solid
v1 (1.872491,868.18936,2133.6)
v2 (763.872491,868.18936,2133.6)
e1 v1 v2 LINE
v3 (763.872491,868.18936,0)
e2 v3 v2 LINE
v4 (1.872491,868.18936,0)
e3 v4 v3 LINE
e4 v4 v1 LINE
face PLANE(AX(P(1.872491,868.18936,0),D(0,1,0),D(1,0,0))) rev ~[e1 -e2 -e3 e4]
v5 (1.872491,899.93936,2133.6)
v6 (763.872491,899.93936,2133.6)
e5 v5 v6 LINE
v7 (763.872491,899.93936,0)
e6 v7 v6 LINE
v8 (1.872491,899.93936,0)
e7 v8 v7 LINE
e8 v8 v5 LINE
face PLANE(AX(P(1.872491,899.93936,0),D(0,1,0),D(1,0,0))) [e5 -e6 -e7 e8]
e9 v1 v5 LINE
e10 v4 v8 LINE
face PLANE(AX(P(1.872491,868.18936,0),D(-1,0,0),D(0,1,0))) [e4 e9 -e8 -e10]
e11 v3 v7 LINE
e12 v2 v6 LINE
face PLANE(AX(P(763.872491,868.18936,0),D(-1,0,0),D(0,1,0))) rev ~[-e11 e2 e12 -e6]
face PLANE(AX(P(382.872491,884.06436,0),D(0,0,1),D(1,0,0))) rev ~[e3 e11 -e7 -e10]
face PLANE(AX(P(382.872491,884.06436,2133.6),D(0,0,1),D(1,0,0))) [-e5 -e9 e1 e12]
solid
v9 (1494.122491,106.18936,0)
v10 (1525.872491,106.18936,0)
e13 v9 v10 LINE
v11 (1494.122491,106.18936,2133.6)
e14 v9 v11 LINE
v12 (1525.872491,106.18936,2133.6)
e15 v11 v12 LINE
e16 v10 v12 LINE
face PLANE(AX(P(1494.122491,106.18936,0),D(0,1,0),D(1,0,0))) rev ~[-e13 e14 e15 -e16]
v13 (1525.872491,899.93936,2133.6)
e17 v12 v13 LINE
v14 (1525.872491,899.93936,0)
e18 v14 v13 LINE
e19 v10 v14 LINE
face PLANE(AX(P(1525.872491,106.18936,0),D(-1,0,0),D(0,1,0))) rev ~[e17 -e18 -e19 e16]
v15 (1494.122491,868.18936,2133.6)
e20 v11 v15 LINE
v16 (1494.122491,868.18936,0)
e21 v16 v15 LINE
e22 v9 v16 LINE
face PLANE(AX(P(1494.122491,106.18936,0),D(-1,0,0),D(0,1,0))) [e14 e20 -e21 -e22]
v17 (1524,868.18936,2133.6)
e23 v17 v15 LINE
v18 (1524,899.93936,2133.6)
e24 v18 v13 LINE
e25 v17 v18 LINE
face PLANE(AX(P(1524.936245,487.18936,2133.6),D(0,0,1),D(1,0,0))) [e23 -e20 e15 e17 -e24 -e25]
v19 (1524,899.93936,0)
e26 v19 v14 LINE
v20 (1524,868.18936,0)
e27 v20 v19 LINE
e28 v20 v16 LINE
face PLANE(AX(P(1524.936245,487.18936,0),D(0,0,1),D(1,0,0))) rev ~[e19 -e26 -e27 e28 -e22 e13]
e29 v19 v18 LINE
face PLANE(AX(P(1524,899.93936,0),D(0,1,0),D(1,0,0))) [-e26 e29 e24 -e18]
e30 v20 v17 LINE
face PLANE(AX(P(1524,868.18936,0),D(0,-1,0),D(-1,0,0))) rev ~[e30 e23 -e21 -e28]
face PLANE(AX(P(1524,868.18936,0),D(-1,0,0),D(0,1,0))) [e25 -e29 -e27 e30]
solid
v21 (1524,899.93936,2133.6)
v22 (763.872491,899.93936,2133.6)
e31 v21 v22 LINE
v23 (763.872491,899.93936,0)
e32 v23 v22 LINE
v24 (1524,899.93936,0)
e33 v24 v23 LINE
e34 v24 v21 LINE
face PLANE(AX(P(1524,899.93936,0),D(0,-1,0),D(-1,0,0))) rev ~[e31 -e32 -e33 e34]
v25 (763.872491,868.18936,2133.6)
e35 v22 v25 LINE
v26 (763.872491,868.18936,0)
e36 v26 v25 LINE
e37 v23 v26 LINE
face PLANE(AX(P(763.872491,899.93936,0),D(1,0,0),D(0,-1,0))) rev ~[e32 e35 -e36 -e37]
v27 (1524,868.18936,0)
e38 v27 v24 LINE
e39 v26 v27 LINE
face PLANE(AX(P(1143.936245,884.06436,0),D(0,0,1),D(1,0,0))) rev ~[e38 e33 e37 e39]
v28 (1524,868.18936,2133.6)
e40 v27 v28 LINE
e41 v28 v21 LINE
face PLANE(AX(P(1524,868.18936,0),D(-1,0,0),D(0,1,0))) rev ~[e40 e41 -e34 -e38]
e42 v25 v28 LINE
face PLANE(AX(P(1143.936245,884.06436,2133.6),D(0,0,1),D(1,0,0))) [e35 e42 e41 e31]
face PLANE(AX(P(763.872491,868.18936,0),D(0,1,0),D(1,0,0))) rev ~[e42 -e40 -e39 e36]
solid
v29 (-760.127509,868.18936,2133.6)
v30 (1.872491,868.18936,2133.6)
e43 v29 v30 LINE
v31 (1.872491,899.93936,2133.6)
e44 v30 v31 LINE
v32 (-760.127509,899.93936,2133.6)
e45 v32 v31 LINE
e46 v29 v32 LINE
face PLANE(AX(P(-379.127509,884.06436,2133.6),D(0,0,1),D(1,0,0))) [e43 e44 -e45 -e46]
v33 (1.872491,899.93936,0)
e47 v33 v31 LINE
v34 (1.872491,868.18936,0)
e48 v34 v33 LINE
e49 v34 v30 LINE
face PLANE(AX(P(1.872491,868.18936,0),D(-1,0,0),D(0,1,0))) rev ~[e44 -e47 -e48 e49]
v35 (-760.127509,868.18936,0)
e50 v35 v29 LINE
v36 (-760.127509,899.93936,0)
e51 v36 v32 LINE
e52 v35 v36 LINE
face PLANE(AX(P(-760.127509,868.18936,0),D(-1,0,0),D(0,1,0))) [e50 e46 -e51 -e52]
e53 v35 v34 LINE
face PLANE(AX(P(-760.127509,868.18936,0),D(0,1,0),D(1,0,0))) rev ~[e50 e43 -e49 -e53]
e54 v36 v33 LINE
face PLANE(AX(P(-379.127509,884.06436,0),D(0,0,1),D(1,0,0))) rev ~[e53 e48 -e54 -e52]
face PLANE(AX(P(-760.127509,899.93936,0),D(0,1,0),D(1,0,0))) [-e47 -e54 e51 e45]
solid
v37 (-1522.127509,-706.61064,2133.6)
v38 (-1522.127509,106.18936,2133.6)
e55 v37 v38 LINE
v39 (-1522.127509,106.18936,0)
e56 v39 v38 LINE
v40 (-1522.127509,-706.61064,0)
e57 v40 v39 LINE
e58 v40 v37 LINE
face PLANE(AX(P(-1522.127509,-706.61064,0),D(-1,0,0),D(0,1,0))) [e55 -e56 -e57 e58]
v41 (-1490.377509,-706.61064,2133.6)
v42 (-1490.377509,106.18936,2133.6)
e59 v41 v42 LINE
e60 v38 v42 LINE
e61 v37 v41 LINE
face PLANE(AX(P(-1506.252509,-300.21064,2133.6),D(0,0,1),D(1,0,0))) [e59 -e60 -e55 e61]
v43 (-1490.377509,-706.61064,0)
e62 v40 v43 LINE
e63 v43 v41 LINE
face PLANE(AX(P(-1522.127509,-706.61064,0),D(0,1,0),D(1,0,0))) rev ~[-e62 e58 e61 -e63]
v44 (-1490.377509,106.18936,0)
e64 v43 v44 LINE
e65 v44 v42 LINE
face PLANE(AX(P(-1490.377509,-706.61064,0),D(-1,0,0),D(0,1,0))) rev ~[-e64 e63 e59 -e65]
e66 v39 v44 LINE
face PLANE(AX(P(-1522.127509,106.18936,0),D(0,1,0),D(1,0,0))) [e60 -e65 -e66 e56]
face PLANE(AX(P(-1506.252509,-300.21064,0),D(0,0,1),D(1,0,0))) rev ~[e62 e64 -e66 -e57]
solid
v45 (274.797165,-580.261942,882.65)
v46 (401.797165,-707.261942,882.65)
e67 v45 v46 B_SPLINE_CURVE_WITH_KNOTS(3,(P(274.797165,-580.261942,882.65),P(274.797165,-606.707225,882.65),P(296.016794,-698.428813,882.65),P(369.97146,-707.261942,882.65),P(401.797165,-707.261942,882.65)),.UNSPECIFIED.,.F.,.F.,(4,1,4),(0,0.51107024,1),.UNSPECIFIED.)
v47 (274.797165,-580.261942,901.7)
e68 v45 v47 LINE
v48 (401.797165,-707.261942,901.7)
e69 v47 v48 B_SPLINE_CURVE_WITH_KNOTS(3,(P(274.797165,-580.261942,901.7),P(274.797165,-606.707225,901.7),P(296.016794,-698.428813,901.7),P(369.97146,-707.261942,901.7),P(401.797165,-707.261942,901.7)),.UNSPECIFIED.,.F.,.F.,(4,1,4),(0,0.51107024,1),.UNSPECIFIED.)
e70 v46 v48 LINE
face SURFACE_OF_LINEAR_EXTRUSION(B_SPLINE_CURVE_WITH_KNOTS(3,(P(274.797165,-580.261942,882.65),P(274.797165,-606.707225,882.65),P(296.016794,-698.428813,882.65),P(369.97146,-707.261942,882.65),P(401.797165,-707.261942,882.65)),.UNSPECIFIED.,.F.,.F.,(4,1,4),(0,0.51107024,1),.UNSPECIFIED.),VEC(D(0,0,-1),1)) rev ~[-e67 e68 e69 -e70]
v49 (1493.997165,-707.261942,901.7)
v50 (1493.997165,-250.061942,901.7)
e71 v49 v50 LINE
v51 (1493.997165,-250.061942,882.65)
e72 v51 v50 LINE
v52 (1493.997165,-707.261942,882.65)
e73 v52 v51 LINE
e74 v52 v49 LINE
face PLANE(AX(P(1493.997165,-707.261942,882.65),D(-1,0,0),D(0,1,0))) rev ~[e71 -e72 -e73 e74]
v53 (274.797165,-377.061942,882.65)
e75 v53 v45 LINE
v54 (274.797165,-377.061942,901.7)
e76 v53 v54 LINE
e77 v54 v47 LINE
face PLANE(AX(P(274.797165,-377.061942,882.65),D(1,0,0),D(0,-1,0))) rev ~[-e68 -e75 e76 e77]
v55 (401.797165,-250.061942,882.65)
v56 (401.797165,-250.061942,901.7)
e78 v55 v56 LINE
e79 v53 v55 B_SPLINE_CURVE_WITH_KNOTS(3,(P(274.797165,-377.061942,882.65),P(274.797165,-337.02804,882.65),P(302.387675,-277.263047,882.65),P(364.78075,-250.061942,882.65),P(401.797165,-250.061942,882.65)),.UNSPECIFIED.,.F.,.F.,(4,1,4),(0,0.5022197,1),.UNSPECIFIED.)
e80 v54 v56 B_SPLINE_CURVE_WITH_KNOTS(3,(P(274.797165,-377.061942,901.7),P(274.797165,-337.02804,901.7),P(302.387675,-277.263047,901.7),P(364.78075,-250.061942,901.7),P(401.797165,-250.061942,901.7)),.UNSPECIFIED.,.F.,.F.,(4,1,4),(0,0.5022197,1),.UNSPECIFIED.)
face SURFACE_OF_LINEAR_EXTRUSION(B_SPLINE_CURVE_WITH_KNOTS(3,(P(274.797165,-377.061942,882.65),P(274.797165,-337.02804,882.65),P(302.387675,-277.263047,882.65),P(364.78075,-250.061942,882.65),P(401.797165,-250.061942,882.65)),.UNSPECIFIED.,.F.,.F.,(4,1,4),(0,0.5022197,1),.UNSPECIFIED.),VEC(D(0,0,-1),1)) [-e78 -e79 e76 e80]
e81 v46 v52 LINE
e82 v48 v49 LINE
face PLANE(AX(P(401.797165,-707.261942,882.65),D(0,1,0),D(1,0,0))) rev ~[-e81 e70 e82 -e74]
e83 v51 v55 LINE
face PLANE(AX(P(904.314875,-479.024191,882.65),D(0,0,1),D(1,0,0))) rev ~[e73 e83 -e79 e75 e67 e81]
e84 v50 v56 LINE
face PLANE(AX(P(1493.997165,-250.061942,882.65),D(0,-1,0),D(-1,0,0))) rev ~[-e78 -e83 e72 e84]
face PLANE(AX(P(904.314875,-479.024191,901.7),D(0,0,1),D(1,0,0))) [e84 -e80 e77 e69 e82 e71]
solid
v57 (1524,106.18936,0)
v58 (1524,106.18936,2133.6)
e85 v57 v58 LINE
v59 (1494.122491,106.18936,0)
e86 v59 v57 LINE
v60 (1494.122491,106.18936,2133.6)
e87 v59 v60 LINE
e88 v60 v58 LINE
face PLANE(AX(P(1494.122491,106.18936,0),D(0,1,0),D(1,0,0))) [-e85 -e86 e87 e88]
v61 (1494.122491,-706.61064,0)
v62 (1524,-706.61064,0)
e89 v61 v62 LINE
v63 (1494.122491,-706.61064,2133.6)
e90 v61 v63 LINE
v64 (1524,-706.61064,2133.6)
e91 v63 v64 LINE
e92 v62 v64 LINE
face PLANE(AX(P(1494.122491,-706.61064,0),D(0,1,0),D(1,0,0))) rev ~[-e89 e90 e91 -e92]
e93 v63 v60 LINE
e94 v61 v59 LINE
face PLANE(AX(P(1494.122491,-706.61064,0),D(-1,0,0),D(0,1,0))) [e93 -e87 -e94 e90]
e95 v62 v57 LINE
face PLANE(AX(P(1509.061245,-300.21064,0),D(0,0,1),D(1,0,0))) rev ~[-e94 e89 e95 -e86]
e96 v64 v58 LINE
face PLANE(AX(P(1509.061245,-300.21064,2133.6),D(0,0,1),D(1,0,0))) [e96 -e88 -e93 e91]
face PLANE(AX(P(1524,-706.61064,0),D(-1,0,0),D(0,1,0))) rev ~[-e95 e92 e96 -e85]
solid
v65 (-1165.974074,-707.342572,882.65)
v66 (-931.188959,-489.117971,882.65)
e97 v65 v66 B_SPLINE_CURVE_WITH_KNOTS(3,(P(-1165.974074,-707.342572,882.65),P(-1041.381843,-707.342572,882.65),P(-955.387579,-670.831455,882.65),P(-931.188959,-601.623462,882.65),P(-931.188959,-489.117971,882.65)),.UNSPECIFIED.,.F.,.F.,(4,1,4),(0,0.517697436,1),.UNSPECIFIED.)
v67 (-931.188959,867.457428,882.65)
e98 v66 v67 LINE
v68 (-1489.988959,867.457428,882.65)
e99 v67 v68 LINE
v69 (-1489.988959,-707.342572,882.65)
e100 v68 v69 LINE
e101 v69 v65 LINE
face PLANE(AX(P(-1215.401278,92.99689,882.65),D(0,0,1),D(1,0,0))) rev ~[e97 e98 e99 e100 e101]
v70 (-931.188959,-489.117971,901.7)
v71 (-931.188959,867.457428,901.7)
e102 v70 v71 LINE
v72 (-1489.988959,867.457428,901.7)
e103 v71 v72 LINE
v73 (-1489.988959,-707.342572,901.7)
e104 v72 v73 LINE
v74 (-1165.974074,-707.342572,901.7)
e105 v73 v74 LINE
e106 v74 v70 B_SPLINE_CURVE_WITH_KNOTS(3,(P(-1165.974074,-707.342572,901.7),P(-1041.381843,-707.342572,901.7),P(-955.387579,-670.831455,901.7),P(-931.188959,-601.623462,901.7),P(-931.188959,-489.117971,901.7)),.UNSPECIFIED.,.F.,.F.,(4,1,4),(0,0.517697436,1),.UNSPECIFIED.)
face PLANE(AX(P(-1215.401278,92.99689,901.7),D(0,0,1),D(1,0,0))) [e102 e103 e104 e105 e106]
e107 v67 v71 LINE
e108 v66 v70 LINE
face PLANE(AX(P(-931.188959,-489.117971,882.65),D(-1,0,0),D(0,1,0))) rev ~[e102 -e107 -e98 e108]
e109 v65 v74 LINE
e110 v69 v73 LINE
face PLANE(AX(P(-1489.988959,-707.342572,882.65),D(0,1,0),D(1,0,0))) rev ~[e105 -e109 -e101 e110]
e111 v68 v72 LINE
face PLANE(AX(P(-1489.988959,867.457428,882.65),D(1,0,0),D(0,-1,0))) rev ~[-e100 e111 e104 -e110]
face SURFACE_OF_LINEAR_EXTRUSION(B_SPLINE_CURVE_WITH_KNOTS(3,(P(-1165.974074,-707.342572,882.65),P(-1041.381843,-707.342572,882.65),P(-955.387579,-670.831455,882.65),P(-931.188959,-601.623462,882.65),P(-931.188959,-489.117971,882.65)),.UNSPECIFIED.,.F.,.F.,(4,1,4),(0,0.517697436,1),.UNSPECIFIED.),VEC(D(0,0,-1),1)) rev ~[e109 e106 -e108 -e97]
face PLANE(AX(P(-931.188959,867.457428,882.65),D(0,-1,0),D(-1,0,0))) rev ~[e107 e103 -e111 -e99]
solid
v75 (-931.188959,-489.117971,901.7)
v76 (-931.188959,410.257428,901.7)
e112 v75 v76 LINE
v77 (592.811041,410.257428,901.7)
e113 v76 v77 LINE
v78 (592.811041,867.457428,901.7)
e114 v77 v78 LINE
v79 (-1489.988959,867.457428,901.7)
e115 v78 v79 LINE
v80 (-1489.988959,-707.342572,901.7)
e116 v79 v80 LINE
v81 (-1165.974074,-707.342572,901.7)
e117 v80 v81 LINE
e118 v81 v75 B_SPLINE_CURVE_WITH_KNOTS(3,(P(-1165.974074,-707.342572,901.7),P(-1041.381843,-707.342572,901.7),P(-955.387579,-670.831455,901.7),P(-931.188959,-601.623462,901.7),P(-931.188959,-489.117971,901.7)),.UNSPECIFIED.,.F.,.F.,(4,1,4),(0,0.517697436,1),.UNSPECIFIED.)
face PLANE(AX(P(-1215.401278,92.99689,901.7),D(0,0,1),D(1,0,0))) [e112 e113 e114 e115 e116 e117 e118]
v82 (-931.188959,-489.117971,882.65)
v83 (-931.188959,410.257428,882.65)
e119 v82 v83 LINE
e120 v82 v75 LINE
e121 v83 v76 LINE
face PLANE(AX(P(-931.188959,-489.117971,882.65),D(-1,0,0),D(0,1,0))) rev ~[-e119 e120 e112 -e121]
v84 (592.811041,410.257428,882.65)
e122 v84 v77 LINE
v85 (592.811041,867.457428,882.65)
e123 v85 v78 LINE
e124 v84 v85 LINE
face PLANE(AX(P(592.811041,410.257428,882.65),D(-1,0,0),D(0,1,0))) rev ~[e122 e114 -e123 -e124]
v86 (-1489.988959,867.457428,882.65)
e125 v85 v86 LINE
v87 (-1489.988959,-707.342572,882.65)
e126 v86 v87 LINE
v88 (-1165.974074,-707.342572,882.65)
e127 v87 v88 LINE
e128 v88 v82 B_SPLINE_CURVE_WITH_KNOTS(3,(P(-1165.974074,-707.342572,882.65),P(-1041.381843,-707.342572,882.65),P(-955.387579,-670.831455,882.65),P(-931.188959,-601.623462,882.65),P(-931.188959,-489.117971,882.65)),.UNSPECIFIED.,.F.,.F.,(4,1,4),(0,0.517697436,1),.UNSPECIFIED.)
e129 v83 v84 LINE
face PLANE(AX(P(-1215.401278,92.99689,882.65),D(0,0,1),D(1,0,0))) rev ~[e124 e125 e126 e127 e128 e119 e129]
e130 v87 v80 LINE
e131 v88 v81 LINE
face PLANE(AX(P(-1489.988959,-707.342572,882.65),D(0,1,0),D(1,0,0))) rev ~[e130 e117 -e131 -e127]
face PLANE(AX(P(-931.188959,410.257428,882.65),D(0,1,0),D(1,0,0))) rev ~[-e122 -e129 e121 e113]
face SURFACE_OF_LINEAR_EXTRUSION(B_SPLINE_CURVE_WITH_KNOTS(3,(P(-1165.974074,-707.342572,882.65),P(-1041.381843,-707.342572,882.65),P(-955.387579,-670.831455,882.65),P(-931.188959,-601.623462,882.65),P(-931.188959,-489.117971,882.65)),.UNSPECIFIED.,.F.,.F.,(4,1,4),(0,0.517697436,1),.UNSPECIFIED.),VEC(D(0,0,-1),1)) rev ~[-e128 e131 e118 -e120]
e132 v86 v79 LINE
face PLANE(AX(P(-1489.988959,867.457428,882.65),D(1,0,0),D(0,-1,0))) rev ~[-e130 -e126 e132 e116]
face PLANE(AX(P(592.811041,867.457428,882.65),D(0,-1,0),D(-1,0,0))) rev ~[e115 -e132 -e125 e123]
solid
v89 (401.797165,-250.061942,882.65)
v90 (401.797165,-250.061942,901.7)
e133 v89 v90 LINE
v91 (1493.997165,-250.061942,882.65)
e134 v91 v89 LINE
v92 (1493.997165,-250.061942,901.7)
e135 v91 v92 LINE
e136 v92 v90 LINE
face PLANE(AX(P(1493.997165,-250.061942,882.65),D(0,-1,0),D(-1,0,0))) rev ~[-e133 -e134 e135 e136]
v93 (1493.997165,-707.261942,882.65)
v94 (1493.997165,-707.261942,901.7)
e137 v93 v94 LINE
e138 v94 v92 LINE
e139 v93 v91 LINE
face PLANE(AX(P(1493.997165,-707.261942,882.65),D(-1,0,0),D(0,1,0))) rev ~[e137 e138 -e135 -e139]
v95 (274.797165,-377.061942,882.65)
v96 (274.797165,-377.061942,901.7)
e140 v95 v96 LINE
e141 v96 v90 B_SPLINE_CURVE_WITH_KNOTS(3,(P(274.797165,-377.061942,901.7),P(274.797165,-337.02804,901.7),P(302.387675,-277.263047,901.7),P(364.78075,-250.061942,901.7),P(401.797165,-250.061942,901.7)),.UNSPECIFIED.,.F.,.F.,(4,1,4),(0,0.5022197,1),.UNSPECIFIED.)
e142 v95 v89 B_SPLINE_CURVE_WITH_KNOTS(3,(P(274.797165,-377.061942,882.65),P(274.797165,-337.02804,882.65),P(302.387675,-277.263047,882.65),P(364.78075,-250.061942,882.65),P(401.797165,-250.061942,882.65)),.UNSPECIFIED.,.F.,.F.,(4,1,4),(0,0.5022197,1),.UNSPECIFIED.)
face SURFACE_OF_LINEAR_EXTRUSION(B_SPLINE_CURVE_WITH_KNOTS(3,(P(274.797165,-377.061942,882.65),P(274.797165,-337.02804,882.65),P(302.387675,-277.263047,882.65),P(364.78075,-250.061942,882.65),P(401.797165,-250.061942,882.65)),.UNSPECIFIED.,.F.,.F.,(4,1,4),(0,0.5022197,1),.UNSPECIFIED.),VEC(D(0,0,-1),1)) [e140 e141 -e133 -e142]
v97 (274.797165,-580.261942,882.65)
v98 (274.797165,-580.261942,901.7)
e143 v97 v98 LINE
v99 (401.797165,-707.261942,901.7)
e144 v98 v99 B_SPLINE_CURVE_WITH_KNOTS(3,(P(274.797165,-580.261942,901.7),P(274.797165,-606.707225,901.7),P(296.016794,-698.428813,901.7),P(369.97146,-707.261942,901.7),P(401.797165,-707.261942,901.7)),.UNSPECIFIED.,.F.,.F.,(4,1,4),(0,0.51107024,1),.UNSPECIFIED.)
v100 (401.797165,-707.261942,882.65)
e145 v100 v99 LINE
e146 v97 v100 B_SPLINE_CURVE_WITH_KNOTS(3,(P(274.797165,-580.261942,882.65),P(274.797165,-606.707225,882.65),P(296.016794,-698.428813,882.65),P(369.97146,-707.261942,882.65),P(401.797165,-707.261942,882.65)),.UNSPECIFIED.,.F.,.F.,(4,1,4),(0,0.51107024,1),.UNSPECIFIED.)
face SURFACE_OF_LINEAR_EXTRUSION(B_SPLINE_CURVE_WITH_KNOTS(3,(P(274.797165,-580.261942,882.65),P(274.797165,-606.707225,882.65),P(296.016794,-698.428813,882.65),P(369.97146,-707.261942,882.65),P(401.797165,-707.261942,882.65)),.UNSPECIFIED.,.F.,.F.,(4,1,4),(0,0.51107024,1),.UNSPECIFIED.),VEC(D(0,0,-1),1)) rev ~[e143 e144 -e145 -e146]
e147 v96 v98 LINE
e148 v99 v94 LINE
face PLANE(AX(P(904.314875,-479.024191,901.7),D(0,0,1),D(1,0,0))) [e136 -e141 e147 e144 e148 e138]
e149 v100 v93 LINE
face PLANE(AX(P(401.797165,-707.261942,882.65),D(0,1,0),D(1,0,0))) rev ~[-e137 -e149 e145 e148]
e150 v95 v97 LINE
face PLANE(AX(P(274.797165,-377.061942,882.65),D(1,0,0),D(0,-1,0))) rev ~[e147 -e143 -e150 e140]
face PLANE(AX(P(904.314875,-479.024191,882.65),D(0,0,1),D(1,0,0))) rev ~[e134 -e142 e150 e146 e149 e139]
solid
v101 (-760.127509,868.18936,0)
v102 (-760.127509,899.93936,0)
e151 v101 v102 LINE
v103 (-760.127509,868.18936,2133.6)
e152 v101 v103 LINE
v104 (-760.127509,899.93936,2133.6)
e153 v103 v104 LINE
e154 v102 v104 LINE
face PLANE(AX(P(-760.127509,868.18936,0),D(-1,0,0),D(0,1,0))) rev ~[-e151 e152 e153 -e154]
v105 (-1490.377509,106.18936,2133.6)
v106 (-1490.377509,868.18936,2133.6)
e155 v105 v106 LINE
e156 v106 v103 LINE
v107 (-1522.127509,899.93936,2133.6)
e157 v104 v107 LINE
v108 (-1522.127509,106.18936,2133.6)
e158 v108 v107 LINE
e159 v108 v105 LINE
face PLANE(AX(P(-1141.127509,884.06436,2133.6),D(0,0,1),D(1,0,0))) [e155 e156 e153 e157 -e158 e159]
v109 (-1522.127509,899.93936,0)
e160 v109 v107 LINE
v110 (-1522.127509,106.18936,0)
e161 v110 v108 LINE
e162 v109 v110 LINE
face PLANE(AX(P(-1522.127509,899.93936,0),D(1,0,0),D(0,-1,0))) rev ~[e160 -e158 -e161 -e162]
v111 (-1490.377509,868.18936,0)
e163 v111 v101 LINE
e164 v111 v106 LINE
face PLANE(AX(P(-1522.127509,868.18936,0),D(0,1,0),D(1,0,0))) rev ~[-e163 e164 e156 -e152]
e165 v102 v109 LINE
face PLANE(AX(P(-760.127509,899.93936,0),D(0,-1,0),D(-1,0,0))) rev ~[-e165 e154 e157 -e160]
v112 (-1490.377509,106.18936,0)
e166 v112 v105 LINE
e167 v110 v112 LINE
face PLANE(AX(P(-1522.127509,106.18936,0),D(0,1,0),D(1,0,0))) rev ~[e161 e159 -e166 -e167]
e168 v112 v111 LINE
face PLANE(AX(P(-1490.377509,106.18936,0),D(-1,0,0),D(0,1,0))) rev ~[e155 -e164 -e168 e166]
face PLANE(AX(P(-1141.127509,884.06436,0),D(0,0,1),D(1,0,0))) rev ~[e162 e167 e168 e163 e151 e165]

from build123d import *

# Parameters (mm, degrees)
F1_W      = 31.75
F1_H      = 812.8
F2_DEPTH  = 2133.6
F1_H_2    = 762
F3_DEPTH  = 2133.6
F4_DEPTH  = 2133.6
F1_W_2    = 762
F1_H_3    = 31.75
F5_DEPTH  = 2133.6
F6_DEPTH  = 2133.6
F7_DEPTH  = 2133.6
F1_W_3    = 1.8724908829
F1_W_4    = 29.8775091171
F8_DEPTH  = 2133.6
F9_DEPTH  = 2133.6
F12_DEPTH = 19.05
F13_DEPTH = 19.05
F14_DEPTH = 19.05
F11_W     = 1524
F11_H     = 457.2


with BuildPart() as f2:
    # F1 (on face) → F2 (new body)
    with BuildSketch(Plane.XY):
        with Locations((-1506.2525091171, -300.2106396675)):
            Rectangle(F1_W, F1_H)
    extrude(amount=F2_DEPTH)


with BuildPart() as f3:
    # F1 (on face) → F3 (new body)
    with BuildSketch(Plane.XY):
        with Locations((-1506.2525091171, 487.1893603325)):
            Rectangle(F1_W, F1_H_2)
    extrude(amount=F3_DEPTH)

    # F1 (on face) → F4 (join)
    with BuildSketch(Plane.XY):
        Polygon((-1522.1275091171, 899.9393603325), (-1522.1275091171, 868.1893603325), (-1490.3775091171, 868.1893603325), (-760.1275091171, 868.1893603325), (-760.1275091171, 899.9393603325), align=None)
    extrude(amount=F4_DEPTH)


with BuildPart() as f5:
    # F1 (on face) → F5 (new body)
    with BuildSketch(Plane.XY):
        with Locations((-379.1275091171, 884.0643603325)):
            Rectangle(F1_W_2, F1_H_3)
    extrude(amount=F5_DEPTH)


with BuildPart() as f6:
    # F1 (on face) → F6 (new body)
    with BuildSketch(Plane.XY):
        with Locations((382.8724908829, 884.0643603325)):
            Rectangle(F1_W_2, F1_H_3)
    extrude(amount=F6_DEPTH)


with BuildPart() as f7:
    # F1 (on face) → F7 (new body)
    with BuildSketch(Plane.XY):
        Polygon((763.8724908829, 899.9393603325), (763.8724908829, 868.1893603325), (1494.1224908829, 868.1893603325), (1524, 868.1893603325), (1524, 899.9393603325), align=None)
    extrude(amount=F7_DEPTH)


with BuildPart() as f8:
    # F1 (on face) → F8 (new body)
    with BuildSketch(Plane.XY):
        with Locations((1524.9362454414, 487.1893603325)):
            Rectangle(F1_W_3, F1_H_2)
        with Locations((1509.0612454414, 487.1893603325)):
            Rectangle(F1_W_4, F1_H_2)
        with Locations((1524.9362454414, 884.0643603325)):
            Rectangle(F1_W_3, F1_H_3)
    extrude(amount=F8_DEPTH)


with BuildPart() as f9:
    # F1 (on face) → F9 (new body)
    with BuildSketch(Plane.XY):
        with Locations((1509.0612454414, -300.2106396675)):
            Rectangle(F1_W_4, F1_H)
    extrude(amount=F9_DEPTH)


with BuildPart() as f12:
    # F11 (on offset) → F12 (new body)
    with BuildSketch(Plane.XY.offset(882.65)):
        with BuildLine():
            Line((-931.1889594966, 867.4574278822), (-1489.9889594966, 867.4574278822))
            Line((-1489.9889594966, 867.4574278822), (-1489.9889594966, -707.3425721178))
            Line((-1489.9889594966, -707.3425721178), (-1165.974074322, -707.3425721178))
            add(Edge.make_bspline(
                [(-1165.974074322, -707.3425721178), (-1041.381843423, -707.3425721178), (-955.387579272, -670.8314552719), (-931.1889594966, -601.6234620314), (-931.1889594966, -489.1179713462)],
                knots=[0, 0, 0, 0, 0.5176974358, 1, 1, 1, 1], degree=3))
            Line((-931.1889594966, -489.1179713462), (-931.1889594966, 410.2574278822))
            Line((-931.1889594966, 410.2574278822), (-931.1889594966, 867.4574278822))
        make_face()
    extrude(amount=F12_DEPTH)


with BuildPart() as f13:
    # F11 (on offset) → F13 (new body)
    with BuildSketch(Plane.XY.offset(882.65)):
        with BuildLine():
            Line((401.797164918, -707.2619415293), (1493.997164918, -707.2619415293))
            Line((1493.997164918, -707.2619415293), (1493.997164918, -250.0619415293))
            Line((1493.997164918, -250.0619415293), (401.797164918, -250.0619415293))
            add(Edge.make_bspline(
                [(274.797164918, -377.0619415293), (274.797164918, -337.0280400353), (302.3876745849, -277.2630470423), (364.7807500246, -250.0619415293), (401.797164918, -250.0619415293)],
                knots=[0, 0, 0, 0, 0.5022196998, 1, 1, 1, 1], degree=3))
            Line((274.797164918, -377.0619415293), (274.797164918, -580.2619415293))
            add(Edge.make_bspline(
                [(274.797164918, -580.2619415293), (274.797164918, -606.7072252194), (296.0167942373, -698.4288133945), (369.9714603839, -707.2619415293), (401.797164918, -707.2619415293)],
                knots=[0, 0, 0, 0, 0.5110702398, 1, 1, 1, 1], degree=3))
        make_face()
    extrude(amount=F13_DEPTH)


with BuildPart() as f14:
    # F11 (on offset) → F14 (new body)
    with BuildSketch(Plane.XY.offset(882.65)):
        with BuildLine():
            Line((401.797164918, -707.2619415293), (1493.997164918, -707.2619415293))
            Line((1493.997164918, -707.2619415293), (1493.997164918, -250.0619415293))
            Line((1493.997164918, -250.0619415293), (401.797164918, -250.0619415293))
            add(Edge.make_bspline(
                [(274.797164918, -377.0619415293), (274.797164918, -337.0280400353), (302.3876745849, -277.2630470423), (364.7807500246, -250.0619415293), (401.797164918, -250.0619415293)],
                knots=[0, 0, 0, 0, 0.5022196998, 1, 1, 1, 1], degree=3))
            Line((274.797164918, -377.0619415293), (274.797164918, -580.2619415293))
            add(Edge.make_bspline(
                [(274.797164918, -580.2619415293), (274.797164918, -606.7072252194), (296.0167942373, -698.4288133945), (369.9714603839, -707.2619415293), (401.797164918, -707.2619415293)],
                knots=[0, 0, 0, 0, 0.5110702398, 1, 1, 1, 1], degree=3))
        make_face()
    extrude(amount=F14_DEPTH)


with BuildPart() as f14b:
    # F11 (on offset) → F14, piece 2 (new body)
    with BuildSketch(Plane.XY.offset(882.65)):
        with BuildLine():
            Line((-931.1889594966, 867.4574278822), (-1489.9889594966, 867.4574278822))
            Line((-1489.9889594966, 867.4574278822), (-1489.9889594966, -707.3425721178))
            Line((-1489.9889594966, -707.3425721178), (-1165.974074322, -707.3425721178))
            add(Edge.make_bspline(
                [(-1165.974074322, -707.3425721178), (-1041.381843423, -707.3425721178), (-955.387579272, -670.8314552719), (-931.1889594966, -601.6234620314), (-931.1889594966, -489.1179713462)],
                knots=[0, 0, 0, 0, 0.5176974358, 1, 1, 1, 1], degree=3))
            Line((-931.1889594966, -489.1179713462), (-931.1889594966, 410.2574278822))
            Line((-931.1889594966, 410.2574278822), (-931.1889594966, 867.4574278822))
        make_face()
        with Locations((-169.1889594966, 638.8574278822)):
            Rectangle(F11_W, F11_H)
    extrude(amount=F14_DEPTH)


solid = Compound([f2.part, f3.part, f5.part, f6.part, f7.part, f8.part, f9.part, f12.part, f13.part, f14.part, f14b.part])
